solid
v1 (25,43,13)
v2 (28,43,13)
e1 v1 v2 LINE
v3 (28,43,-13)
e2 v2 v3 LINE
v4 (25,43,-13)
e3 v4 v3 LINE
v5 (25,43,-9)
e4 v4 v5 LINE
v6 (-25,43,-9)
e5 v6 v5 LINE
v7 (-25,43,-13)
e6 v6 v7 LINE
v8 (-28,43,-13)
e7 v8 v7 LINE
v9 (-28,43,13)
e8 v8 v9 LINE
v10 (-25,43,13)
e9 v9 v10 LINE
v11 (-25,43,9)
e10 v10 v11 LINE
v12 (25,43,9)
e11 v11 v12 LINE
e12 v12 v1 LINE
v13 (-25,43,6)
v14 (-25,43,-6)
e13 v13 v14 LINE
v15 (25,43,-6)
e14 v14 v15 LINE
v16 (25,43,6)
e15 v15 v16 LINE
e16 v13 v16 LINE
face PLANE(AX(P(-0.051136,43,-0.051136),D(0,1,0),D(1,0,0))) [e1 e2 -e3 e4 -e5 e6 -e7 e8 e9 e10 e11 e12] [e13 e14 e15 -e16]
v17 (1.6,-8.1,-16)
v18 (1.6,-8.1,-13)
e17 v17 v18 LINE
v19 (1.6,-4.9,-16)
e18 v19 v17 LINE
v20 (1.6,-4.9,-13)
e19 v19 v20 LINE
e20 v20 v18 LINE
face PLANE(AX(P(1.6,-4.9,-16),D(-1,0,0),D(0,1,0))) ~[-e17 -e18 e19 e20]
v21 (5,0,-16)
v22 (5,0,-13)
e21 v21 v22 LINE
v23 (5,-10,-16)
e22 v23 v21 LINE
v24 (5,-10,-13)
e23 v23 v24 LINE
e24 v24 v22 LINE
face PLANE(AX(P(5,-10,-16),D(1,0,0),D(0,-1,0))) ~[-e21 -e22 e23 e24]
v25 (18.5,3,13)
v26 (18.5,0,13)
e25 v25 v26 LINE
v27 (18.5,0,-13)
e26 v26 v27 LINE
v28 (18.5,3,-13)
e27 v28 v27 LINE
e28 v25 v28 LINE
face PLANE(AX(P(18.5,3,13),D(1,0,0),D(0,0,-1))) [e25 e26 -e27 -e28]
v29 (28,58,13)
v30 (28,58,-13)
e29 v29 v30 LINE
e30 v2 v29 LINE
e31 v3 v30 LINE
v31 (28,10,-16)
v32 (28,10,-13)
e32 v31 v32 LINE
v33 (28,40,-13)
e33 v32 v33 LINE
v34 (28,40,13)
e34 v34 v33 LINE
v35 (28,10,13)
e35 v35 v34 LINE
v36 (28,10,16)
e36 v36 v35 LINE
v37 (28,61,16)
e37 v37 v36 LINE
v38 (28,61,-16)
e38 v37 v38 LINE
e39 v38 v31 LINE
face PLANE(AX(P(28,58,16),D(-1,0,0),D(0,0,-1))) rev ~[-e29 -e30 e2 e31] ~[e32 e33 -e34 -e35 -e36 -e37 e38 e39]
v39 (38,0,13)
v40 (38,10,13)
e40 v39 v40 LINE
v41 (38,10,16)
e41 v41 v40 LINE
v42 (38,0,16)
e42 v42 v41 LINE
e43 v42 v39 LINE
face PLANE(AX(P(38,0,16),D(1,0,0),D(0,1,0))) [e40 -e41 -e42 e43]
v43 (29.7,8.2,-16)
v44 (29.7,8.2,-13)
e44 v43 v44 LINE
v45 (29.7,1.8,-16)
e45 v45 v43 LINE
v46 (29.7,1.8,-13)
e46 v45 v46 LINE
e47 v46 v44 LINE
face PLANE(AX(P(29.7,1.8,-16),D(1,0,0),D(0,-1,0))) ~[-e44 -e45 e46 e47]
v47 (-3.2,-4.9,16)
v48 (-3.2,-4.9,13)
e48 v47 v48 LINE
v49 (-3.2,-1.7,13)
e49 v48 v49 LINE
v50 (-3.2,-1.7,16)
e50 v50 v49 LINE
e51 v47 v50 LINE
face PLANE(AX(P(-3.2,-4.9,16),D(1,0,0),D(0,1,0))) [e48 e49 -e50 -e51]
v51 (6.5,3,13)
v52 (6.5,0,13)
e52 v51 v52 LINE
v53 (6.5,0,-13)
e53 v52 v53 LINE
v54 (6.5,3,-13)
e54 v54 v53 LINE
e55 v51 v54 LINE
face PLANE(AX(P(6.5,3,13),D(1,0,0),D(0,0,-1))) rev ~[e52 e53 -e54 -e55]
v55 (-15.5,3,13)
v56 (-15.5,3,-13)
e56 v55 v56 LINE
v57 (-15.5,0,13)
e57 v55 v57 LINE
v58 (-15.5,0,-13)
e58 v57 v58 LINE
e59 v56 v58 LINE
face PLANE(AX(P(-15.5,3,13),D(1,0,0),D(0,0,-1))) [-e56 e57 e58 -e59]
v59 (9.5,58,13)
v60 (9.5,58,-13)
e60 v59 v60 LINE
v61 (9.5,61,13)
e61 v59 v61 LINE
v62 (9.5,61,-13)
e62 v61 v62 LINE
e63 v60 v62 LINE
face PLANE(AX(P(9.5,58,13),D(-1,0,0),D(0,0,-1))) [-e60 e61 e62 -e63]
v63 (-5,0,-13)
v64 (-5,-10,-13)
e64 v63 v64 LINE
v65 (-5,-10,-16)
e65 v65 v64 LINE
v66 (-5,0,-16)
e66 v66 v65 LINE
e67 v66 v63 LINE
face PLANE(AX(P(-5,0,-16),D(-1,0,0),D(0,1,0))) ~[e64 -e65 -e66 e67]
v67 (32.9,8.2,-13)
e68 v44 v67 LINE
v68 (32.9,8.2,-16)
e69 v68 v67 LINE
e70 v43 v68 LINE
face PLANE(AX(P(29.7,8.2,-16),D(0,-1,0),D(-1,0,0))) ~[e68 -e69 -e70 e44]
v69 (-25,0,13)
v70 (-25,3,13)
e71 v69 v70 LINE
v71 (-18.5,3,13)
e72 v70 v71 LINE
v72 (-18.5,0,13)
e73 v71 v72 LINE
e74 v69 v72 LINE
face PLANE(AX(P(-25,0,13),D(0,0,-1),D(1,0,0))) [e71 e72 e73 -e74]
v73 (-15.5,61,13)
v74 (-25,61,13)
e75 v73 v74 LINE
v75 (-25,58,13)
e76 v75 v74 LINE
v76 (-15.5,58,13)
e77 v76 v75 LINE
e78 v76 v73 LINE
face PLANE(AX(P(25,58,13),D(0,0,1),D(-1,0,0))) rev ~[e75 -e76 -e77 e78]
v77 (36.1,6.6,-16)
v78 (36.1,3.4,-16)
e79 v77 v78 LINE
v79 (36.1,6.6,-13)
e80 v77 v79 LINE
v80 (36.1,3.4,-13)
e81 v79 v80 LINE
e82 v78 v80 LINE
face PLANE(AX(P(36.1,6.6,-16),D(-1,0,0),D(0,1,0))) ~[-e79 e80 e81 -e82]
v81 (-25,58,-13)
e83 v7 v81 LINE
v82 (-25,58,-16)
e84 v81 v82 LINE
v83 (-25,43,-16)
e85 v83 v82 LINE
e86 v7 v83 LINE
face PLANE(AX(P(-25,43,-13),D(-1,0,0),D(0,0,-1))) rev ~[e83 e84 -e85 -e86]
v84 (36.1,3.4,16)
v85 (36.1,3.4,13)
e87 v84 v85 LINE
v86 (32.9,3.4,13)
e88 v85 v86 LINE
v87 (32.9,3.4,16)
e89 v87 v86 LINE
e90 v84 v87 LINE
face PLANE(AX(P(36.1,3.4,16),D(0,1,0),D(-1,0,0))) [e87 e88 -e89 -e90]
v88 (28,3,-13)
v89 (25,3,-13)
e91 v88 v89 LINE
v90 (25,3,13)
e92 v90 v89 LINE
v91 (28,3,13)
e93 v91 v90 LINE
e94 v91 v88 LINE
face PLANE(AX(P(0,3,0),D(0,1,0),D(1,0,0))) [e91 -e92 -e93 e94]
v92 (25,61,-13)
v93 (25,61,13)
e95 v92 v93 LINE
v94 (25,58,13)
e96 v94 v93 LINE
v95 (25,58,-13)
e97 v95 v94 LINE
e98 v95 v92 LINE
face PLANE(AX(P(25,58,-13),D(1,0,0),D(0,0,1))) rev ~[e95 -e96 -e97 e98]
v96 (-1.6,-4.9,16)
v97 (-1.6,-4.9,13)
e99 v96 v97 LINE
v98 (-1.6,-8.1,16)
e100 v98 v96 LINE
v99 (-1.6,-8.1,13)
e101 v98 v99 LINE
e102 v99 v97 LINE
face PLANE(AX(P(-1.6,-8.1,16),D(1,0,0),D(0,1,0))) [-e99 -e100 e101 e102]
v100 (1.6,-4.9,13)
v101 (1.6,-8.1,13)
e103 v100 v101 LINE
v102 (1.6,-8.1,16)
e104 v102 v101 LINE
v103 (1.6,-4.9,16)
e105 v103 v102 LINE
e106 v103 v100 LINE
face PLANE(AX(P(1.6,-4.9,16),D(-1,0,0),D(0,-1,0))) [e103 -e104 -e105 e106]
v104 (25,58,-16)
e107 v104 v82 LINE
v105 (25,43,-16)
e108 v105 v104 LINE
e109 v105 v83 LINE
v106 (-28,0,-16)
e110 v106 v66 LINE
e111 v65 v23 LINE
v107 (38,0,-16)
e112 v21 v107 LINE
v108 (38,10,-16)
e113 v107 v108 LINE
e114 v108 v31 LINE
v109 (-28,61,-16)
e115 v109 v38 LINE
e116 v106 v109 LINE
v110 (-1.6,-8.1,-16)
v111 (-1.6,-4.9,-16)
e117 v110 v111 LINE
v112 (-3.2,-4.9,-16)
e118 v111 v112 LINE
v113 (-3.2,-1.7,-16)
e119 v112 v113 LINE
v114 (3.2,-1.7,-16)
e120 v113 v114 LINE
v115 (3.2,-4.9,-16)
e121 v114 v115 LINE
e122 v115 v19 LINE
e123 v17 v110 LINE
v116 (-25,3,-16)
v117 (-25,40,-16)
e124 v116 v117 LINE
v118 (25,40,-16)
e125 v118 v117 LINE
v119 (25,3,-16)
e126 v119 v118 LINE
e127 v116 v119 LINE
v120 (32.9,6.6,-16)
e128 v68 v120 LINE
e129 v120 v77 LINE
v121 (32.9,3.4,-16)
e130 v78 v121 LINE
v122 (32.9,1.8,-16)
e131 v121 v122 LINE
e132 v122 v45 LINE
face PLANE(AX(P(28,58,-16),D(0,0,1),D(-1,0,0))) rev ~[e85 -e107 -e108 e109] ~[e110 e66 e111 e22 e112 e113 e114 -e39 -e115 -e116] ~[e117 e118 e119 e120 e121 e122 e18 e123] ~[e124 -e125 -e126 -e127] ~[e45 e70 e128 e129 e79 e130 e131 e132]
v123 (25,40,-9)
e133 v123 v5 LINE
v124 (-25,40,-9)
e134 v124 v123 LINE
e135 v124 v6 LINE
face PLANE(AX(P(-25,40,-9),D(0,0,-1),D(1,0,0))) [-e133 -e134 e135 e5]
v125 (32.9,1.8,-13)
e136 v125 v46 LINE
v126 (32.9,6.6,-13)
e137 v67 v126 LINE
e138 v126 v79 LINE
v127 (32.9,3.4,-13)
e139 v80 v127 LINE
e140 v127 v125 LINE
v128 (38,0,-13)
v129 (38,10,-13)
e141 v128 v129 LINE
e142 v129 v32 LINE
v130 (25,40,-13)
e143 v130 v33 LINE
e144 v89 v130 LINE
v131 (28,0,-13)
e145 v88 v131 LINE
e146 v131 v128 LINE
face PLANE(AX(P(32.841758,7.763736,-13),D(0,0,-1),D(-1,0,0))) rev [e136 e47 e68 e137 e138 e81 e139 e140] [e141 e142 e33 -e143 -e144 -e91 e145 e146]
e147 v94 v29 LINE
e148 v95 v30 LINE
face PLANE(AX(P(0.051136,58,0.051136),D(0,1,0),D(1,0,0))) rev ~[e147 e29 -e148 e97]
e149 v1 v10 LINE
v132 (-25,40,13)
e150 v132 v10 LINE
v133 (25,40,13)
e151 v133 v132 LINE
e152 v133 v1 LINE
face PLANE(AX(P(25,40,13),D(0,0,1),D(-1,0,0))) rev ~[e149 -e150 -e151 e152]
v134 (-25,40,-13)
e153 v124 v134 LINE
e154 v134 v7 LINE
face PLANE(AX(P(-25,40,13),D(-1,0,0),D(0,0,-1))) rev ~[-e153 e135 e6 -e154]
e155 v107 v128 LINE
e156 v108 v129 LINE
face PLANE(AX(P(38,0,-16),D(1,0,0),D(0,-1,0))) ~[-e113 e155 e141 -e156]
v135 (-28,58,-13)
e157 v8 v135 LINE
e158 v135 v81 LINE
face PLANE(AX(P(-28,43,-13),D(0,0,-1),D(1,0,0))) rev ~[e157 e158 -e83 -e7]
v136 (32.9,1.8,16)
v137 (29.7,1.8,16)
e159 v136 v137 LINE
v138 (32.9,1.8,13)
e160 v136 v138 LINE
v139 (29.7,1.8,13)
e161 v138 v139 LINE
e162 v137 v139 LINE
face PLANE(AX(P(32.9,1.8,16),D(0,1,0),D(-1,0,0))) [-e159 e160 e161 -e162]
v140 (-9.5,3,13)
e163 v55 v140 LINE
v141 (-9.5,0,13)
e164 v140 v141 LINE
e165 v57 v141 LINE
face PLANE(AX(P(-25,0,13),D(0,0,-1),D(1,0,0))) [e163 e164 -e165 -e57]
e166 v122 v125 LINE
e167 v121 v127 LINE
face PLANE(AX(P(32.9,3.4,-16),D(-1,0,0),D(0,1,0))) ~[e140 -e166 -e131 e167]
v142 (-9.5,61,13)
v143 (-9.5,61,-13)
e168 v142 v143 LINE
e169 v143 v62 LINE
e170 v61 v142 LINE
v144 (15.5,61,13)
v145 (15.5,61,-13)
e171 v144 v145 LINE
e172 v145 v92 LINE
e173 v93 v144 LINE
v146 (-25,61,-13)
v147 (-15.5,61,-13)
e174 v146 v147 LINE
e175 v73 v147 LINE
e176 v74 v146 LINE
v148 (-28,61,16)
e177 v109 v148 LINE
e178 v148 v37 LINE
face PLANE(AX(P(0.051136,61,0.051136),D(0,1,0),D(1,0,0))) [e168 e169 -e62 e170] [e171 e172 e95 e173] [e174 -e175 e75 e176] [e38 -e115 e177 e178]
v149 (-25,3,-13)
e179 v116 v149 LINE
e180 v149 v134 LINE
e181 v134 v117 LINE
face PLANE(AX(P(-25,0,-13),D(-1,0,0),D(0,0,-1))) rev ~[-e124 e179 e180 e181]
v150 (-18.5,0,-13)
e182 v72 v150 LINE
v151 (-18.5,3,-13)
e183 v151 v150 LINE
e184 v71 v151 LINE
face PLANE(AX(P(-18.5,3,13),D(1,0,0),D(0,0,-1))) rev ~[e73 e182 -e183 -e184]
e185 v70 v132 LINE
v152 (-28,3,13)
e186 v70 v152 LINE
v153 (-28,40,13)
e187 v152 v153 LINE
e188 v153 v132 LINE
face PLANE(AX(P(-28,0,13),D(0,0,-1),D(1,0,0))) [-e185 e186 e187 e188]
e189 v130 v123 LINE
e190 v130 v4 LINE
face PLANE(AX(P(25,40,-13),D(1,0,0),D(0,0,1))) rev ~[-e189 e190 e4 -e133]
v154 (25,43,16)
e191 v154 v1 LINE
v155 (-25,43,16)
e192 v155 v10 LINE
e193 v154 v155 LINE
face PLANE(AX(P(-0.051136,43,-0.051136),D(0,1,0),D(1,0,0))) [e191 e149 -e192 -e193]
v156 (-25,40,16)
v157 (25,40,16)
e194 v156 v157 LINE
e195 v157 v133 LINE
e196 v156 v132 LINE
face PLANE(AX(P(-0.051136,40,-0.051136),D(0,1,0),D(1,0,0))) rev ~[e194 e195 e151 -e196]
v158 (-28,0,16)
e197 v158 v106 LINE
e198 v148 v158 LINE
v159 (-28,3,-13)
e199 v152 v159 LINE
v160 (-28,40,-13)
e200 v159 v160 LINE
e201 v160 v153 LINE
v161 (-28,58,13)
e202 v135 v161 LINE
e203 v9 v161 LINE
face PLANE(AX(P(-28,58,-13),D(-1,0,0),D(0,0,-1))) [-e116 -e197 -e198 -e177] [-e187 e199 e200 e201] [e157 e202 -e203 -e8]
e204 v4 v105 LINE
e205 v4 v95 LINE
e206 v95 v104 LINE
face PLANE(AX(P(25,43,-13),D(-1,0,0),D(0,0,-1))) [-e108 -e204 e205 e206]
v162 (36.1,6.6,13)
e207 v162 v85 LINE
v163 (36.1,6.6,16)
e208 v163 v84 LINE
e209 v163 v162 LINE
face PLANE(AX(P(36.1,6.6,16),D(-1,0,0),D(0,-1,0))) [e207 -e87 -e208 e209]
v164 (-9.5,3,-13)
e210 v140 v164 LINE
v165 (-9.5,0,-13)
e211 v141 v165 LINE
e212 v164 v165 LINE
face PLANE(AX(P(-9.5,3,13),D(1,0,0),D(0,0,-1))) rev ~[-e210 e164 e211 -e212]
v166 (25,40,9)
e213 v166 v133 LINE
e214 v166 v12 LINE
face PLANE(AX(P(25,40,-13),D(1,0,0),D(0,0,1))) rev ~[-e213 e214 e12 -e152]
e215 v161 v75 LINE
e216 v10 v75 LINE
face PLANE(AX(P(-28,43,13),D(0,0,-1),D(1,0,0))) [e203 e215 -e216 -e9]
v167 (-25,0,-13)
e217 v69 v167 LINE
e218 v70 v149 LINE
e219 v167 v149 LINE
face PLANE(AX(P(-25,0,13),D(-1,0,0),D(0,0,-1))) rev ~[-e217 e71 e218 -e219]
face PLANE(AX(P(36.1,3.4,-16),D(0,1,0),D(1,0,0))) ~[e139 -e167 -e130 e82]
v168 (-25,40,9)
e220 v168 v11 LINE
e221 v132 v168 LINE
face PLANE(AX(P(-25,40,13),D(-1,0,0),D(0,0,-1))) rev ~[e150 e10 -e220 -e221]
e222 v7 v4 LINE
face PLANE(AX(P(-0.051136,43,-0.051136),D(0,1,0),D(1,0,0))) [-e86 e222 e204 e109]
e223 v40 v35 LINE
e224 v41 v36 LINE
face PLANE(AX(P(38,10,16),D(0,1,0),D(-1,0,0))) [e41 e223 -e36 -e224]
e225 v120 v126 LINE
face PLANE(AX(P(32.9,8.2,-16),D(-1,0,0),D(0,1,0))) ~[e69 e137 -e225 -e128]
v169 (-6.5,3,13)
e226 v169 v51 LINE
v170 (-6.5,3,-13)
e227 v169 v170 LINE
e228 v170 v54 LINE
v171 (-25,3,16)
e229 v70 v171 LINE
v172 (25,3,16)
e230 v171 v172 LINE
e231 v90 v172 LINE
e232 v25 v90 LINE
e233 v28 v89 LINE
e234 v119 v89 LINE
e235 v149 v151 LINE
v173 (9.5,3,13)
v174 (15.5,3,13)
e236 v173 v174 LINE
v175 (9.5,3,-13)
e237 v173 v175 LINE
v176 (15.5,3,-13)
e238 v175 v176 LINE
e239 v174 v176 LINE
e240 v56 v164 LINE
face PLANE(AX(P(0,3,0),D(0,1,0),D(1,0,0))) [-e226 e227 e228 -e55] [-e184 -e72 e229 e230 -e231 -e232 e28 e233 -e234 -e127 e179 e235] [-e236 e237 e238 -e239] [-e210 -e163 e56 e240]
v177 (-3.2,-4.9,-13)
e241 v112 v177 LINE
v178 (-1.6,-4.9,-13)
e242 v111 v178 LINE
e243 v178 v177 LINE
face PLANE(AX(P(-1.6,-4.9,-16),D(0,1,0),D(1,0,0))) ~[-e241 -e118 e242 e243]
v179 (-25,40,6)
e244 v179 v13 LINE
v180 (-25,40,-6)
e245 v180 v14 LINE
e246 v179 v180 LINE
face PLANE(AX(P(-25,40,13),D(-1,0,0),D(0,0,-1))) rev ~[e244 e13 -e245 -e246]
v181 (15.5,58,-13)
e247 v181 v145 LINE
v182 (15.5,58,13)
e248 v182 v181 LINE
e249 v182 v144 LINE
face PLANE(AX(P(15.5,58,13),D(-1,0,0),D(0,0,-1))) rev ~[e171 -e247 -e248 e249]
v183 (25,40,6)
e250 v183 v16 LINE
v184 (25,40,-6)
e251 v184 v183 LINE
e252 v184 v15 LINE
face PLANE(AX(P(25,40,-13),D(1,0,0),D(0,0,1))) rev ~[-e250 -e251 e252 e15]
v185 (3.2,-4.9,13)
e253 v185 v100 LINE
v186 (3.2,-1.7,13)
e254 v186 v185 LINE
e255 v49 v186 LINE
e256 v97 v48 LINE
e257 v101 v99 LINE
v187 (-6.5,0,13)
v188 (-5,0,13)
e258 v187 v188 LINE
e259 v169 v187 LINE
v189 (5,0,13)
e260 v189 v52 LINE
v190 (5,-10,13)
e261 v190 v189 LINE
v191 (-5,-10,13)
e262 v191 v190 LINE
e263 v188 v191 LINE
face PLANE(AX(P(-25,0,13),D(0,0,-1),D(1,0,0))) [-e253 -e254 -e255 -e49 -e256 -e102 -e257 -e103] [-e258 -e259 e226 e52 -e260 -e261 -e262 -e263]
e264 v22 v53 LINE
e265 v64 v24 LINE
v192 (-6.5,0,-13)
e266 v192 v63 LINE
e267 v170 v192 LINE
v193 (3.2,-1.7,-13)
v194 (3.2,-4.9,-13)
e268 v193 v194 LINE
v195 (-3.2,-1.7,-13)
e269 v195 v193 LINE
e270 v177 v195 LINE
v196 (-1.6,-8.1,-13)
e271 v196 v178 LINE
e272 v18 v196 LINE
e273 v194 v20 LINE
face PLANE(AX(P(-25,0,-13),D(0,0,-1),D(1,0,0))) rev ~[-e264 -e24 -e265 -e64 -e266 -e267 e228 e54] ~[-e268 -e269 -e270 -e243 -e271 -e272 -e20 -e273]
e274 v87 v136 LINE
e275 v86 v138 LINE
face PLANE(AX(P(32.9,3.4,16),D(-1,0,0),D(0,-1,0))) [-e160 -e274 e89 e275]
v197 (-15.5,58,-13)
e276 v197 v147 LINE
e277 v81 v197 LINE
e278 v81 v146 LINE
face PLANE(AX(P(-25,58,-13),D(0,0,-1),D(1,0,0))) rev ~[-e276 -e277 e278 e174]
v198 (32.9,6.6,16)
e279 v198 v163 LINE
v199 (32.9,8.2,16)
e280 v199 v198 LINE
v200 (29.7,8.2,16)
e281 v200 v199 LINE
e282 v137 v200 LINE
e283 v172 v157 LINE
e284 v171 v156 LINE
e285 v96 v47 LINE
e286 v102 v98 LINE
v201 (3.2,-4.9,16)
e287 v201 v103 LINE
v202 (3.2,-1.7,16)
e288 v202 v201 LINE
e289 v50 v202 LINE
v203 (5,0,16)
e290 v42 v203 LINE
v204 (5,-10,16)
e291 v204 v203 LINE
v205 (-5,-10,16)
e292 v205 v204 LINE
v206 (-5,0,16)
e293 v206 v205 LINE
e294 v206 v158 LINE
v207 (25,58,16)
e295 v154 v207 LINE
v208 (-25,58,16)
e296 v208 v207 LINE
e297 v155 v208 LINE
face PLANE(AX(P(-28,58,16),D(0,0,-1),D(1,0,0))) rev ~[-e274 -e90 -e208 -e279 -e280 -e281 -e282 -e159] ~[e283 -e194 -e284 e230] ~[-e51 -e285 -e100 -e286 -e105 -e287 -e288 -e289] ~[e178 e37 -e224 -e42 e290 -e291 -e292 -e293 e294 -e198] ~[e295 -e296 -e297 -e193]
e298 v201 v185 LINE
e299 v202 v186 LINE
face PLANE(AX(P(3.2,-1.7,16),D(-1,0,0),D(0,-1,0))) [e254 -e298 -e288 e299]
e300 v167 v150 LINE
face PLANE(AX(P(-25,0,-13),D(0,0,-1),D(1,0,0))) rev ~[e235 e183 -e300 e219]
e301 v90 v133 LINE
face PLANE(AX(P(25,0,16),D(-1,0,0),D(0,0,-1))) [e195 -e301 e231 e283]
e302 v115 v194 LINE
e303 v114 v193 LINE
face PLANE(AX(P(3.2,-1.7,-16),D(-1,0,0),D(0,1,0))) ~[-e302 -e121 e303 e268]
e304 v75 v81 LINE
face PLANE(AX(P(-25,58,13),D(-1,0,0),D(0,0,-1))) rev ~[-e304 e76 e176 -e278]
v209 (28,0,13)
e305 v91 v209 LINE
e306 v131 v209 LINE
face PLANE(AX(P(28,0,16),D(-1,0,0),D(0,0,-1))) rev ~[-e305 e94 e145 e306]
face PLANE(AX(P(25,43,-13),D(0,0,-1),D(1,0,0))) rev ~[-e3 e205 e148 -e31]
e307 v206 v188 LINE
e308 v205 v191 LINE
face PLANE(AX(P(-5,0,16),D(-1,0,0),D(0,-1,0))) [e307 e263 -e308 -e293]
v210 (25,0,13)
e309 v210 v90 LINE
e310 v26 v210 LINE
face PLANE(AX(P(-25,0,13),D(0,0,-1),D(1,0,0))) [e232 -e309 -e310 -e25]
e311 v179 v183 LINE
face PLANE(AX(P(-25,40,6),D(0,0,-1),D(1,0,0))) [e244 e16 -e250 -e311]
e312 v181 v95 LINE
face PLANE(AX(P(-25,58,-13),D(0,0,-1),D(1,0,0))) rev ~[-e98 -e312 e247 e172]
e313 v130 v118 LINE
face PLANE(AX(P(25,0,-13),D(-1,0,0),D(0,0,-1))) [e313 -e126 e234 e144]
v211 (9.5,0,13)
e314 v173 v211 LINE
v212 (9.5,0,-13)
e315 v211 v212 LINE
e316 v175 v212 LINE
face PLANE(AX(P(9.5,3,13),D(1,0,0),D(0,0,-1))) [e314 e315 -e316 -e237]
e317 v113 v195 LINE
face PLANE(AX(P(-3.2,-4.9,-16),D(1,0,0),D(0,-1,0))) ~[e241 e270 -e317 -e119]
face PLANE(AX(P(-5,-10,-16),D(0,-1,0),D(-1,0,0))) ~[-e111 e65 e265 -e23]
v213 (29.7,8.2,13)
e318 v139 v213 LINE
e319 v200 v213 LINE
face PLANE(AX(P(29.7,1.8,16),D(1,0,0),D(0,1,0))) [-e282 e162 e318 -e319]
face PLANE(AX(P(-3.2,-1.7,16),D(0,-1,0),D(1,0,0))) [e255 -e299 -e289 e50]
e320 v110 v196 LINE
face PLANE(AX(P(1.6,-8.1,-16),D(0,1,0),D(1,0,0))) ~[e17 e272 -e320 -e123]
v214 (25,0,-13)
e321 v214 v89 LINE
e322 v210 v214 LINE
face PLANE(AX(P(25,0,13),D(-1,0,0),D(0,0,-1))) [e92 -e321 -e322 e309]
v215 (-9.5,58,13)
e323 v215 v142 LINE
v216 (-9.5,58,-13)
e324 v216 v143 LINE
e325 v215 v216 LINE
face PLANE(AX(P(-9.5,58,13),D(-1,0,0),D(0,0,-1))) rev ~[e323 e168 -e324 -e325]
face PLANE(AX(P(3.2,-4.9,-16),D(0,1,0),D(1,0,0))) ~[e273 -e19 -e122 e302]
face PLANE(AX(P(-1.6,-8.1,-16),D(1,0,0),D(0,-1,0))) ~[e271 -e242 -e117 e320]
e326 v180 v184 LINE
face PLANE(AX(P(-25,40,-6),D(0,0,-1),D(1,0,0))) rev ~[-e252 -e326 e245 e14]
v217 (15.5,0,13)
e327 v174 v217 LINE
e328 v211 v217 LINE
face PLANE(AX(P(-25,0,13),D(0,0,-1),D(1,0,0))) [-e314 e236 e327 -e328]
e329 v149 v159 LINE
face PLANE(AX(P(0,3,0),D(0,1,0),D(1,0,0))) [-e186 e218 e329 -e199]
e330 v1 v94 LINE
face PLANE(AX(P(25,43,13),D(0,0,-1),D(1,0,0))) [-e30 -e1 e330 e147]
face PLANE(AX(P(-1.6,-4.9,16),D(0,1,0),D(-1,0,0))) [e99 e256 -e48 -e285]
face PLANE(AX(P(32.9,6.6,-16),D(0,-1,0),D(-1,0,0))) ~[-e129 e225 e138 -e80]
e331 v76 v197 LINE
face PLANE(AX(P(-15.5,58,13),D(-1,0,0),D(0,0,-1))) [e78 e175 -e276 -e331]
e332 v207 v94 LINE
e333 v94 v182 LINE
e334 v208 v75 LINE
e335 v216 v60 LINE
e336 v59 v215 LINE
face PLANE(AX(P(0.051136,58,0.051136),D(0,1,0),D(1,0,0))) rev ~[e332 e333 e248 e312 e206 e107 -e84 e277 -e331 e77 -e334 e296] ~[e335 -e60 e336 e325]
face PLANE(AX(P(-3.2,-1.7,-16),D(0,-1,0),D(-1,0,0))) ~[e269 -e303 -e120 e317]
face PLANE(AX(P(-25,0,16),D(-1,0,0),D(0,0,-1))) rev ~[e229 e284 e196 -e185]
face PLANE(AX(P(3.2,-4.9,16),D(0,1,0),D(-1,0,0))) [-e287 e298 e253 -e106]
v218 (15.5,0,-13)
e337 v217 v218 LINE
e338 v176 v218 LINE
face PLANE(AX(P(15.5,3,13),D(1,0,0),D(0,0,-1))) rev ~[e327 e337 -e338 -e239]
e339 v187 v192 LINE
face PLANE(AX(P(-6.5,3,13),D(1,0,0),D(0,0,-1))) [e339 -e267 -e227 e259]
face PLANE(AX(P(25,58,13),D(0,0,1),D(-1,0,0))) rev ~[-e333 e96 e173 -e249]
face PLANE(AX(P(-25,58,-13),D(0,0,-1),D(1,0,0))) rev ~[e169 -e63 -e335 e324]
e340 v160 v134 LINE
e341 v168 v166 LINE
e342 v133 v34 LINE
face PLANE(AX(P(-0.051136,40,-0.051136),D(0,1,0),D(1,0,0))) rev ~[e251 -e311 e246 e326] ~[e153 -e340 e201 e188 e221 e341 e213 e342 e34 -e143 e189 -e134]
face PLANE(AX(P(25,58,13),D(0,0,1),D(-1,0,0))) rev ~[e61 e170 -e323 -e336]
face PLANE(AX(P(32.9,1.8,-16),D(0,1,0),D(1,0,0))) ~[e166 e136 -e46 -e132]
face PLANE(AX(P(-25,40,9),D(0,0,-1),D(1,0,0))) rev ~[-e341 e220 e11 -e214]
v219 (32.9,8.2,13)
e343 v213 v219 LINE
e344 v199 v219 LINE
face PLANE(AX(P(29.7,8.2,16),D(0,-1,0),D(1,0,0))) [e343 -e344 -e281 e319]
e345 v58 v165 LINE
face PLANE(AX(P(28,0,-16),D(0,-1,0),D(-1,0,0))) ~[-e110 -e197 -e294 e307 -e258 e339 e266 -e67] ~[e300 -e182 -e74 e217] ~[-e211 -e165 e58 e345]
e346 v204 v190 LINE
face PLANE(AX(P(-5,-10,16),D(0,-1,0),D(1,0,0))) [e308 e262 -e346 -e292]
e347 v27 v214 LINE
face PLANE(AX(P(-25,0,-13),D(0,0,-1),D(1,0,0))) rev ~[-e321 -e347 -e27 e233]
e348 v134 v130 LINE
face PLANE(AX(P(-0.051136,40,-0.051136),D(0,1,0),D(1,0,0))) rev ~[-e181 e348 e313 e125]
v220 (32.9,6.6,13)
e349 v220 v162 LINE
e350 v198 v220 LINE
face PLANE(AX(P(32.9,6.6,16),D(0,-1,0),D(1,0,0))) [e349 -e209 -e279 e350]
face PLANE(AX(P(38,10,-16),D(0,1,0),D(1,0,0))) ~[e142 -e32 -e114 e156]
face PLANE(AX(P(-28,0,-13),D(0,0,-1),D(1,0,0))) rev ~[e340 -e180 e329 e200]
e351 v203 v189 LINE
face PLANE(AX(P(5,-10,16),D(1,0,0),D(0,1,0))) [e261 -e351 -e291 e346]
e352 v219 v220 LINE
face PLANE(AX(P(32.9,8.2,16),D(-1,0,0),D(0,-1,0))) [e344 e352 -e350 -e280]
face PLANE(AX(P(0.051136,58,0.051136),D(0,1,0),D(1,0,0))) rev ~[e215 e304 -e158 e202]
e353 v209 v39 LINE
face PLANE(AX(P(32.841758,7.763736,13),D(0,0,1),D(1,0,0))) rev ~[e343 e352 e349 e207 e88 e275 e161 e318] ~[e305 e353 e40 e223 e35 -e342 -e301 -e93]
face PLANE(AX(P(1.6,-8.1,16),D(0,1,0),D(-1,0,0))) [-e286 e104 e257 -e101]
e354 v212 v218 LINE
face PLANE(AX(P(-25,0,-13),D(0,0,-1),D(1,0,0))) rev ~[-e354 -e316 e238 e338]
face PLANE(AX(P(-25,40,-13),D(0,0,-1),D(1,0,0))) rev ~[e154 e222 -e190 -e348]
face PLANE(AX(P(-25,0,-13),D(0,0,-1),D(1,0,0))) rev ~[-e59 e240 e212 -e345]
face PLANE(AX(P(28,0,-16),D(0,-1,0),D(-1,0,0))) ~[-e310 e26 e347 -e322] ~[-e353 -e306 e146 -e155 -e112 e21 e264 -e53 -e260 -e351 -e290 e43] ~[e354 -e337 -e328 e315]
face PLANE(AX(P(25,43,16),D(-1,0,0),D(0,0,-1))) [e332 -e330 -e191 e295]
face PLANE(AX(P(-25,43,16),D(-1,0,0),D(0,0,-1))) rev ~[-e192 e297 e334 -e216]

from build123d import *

# Parameters (mm, degrees)
SKETCH1_W           = 56
SKETCH1_H           = 32
SKETCH1_W_2         = 50
SKETCH1_H_2         = 26
BOSS_EXTRUDE1_DEPTH = 3
SKETCH2_W           = 3
SKETCH2_H           = 3
BOSS_EXTRUDE2_DEPTH = 40
BOSS_EXTRUDE3_DEPTH = 3
BOSS_EXTRUDE4_DEPTH = 3
SKETCH5_W           = 3
SKETCH5_H           = 26
BOSS_EXTRUDE5_DEPTH = 3
SKETCH6_W           = 50
SKETCH6_H           = 3
SKETCH6_W_2         = 3
BOSS_EXTRUDE7_DEPTH = 3
SKETCH7_W           = 3
SKETCH7_H           = 3
BOSS_EXTRUDE8_DEPTH = 15
SKETCH8_W           = 3
SKETCH8_H           = 26
SKETCH8_W_2         = 6
SKETCH8_H_2         = 3
BOSS_EXTRUDE9_DEPTH = 3


with BuildPart() as part:
    # Sketch1 → Boss-Extrude1 (new body)
    with BuildSketch(Plane(origin=(0, 0, 0), x_dir=(1, 0, 0), z_dir=(0, 1, 0))):
        Rectangle(SKETCH1_W, SKETCH1_H)
        Rectangle(SKETCH1_W_2, SKETCH1_H_2, mode=Mode.SUBTRACT)
    extrude(amount=BOSS_EXTRUDE1_DEPTH)

    # Sketch2 → Boss-Extrude2 (add)
    with BuildSketch(Plane(origin=(0, 0, 0), x_dir=(1, 0, 0), z_dir=(0, 1, 0))):
        with Locations((26.5, 14.5)):
            Rectangle(SKETCH2_W, SKETCH2_H)
        with Locations((26.5, -14.5)):
            Rectangle(SKETCH2_W, SKETCH2_H)
        with Locations((-26.5, -14.5)):
            Rectangle(SKETCH2_W, SKETCH2_H)
        with Locations((-26.5, 14.5)):
            Rectangle(SKETCH2_W, SKETCH2_H)
    extrude(amount=BOSS_EXTRUDE2_DEPTH)

    # Sketch3 → Boss-Extrude3 (add)
    with BuildSketch(Plane.XY.offset(16)):
        Polygon((28, 10), (28, 5), (29.7, 5), (29.7, 8.2), (32.9, 8.2), (32.9, 6.6), (36.1, 6.6), (36.1, 5), (38, 5), (38, 10), align=None)
        Polygon((28, 5), (28, 0), (38, 0), (38, 5), (36.1, 5), (36.1, 3.4), (32.9, 3.4), (32.9, 1.8), (29.7, 1.8), (29.7, 5), align=None)
    boss_extrude3 = extrude(amount=-BOSS_EXTRUDE3_DEPTH)

    # Mirror1: Boss-Extrude3 across plane
    add(boss_extrude3.mirror(Plane.XY))

    # Sketch4 → Boss-Extrude4 (add)
    with BuildSketch(Plane.XY.offset(16)):
        Polygon((5, 0), (0, 0), (-5, 0), (-5, -10), (0, -10), (5, -10), align=None)
        Polygon((1.6, -8.1), (0, -8.1), (-1.6, -8.1), (-1.6, -4.9), (-3.2, -4.9), (-3.2, -1.7), (3.2, -1.7), (3.2, -4.9), (1.6, -4.9), align=None, mode=Mode.SUBTRACT)
    boss_extrude4 = extrude(amount=-BOSS_EXTRUDE4_DEPTH)

    # Mirror2: Boss-Extrude4 across plane
    add(boss_extrude4.mirror(Plane.XY))

    # Sketch5 → Boss-Extrude5 (add)
    with BuildSketch(Plane(origin=(0, 3, 0), x_dir=(1, 0, 0), z_dir=(0, 1, 0))):
        with Locations((-17, 0)):
            Rectangle(SKETCH5_W, SKETCH5_H)
        with Locations((-8, 0)):
            Rectangle(SKETCH5_W, SKETCH5_H)
        with Locations((8, 0)):
            Rectangle(SKETCH5_W, SKETCH5_H)
        with Locations((17, 0)):
            Rectangle(SKETCH5_W, SKETCH5_H)
    extrude(amount=-BOSS_EXTRUDE5_DEPTH)

    # Sketch6 → Boss-Extrude7 (add)
    # profile 1 of 4: a face of its own
    with BuildSketch(Plane(origin=(0, 40, 0), x_dir=(1, 0, 0), z_dir=(0, 1, 0))):
        Polygon((-28, -16), (25, -16), (25, -13), (28, -13), (28, 16), (-28, 16), align=None)
        Polygon((25, -9), (25, -13), (-25, -13), (-25, -9), (-25, -6), (-25, 6), (-25, 9), (-25, 13), (25, 13), (25, 9), (25, 6), (25, -6), align=None, mode=Mode.SUBTRACT)
    # profile 2 of 4: a face of its own
    with BuildSketch(Plane(origin=(0, 40, 0), x_dir=(1, 0, 0), z_dir=(0, 1, 0))):
        with Locations((0, -7.5)):
            Rectangle(SKETCH6_W, SKETCH6_H)
    # profile 3 of 4: a face of its own
    with BuildSketch(Plane(origin=(0, 40, 0), x_dir=(1, 0, 0), z_dir=(0, 1, 0))):
        with Locations((0, 7.5)):
            Rectangle(SKETCH6_W, SKETCH6_H)
    # profile 4 of 4: a face of its own
    with BuildSketch(Plane(origin=(0, 40, 0), x_dir=(1, 0, 0), z_dir=(0, 1, 0))):
        with Locations((26.5, -14.5)):
            Rectangle(SKETCH6_W_2, SKETCH6_H)
    extrude(amount=BOSS_EXTRUDE7_DEPTH)

    # Sketch7 → Boss-Extrude8 (add)
    with BuildSketch(Plane(origin=(0, 43, 0), x_dir=(1, 0, 0), z_dir=(0, 1, 0))):
        with Locations((-26.5, -14.5)):
            Rectangle(SKETCH7_W, SKETCH7_H)
        with Locations((-26.5, 14.5)):
            Rectangle(SKETCH7_W, SKETCH7_H)
        with Locations((26.5, 14.5)):
            Rectangle(SKETCH7_W, SKETCH7_H)
        with Locations((26.5, -14.5)):
            Rectangle(SKETCH7_W, SKETCH7_H)
    extrude(amount=BOSS_EXTRUDE8_DEPTH)

    # Sketch8 → Boss-Extrude9 (add)
    # profile 1 of 5: a face of its own
    with BuildSketch(Plane(origin=(0, 58, 0), x_dir=(1, 0, 0), z_dir=(0, 1, 0))):
        Polygon((-25, 16), (-25, 13), (-28, 13), (-28, -16), (28, -16), (28, 16), align=None)
        Polygon((25, 13), (25, -13), (15.5, -13), (12.5, -13), (9.5, -13), (0, -13), (-9.5, -13), (-15.5, -13), (-25, -13), (-25, 13), (-15.5, 13), (-9.5, 13), (9.5, 13), (12.5, 13), (15.5, 13), align=None, mode=Mode.SUBTRACT)
    # profile 2 of 5: a face of its own
    with BuildSketch(Plane(origin=(0, 58, 0), x_dir=(1, 0, 0), z_dir=(0, 1, 0))):
        with Locations((11, 0)):
            Rectangle(SKETCH8_W, SKETCH8_H)
    # profile 3 of 5: a face of its own
    with BuildSketch(Plane(origin=(0, 58, 0), x_dir=(1, 0, 0), z_dir=(0, 1, 0))):
        with Locations((14, 0)):
            Rectangle(SKETCH8_W, SKETCH8_H)
    # profile 4 of 5: a face of its own
    with BuildSketch(Plane(origin=(0, 58, 0), x_dir=(1, 0, 0), z_dir=(0, 1, 0))):
        with Locations((-12.5, 0)):
            Rectangle(SKETCH8_W_2, SKETCH8_H)
    # profile 5 of 5: a face of its own
    with BuildSketch(Plane(origin=(0, 58, 0), x_dir=(1, 0, 0), z_dir=(0, 1, 0))):
        with Locations((-26.5, 14.5)):
            Rectangle(SKETCH8_W, SKETCH8_H_2)
    extrude(amount=BOSS_EXTRUDE9_DEPTH)


solid = part.part
